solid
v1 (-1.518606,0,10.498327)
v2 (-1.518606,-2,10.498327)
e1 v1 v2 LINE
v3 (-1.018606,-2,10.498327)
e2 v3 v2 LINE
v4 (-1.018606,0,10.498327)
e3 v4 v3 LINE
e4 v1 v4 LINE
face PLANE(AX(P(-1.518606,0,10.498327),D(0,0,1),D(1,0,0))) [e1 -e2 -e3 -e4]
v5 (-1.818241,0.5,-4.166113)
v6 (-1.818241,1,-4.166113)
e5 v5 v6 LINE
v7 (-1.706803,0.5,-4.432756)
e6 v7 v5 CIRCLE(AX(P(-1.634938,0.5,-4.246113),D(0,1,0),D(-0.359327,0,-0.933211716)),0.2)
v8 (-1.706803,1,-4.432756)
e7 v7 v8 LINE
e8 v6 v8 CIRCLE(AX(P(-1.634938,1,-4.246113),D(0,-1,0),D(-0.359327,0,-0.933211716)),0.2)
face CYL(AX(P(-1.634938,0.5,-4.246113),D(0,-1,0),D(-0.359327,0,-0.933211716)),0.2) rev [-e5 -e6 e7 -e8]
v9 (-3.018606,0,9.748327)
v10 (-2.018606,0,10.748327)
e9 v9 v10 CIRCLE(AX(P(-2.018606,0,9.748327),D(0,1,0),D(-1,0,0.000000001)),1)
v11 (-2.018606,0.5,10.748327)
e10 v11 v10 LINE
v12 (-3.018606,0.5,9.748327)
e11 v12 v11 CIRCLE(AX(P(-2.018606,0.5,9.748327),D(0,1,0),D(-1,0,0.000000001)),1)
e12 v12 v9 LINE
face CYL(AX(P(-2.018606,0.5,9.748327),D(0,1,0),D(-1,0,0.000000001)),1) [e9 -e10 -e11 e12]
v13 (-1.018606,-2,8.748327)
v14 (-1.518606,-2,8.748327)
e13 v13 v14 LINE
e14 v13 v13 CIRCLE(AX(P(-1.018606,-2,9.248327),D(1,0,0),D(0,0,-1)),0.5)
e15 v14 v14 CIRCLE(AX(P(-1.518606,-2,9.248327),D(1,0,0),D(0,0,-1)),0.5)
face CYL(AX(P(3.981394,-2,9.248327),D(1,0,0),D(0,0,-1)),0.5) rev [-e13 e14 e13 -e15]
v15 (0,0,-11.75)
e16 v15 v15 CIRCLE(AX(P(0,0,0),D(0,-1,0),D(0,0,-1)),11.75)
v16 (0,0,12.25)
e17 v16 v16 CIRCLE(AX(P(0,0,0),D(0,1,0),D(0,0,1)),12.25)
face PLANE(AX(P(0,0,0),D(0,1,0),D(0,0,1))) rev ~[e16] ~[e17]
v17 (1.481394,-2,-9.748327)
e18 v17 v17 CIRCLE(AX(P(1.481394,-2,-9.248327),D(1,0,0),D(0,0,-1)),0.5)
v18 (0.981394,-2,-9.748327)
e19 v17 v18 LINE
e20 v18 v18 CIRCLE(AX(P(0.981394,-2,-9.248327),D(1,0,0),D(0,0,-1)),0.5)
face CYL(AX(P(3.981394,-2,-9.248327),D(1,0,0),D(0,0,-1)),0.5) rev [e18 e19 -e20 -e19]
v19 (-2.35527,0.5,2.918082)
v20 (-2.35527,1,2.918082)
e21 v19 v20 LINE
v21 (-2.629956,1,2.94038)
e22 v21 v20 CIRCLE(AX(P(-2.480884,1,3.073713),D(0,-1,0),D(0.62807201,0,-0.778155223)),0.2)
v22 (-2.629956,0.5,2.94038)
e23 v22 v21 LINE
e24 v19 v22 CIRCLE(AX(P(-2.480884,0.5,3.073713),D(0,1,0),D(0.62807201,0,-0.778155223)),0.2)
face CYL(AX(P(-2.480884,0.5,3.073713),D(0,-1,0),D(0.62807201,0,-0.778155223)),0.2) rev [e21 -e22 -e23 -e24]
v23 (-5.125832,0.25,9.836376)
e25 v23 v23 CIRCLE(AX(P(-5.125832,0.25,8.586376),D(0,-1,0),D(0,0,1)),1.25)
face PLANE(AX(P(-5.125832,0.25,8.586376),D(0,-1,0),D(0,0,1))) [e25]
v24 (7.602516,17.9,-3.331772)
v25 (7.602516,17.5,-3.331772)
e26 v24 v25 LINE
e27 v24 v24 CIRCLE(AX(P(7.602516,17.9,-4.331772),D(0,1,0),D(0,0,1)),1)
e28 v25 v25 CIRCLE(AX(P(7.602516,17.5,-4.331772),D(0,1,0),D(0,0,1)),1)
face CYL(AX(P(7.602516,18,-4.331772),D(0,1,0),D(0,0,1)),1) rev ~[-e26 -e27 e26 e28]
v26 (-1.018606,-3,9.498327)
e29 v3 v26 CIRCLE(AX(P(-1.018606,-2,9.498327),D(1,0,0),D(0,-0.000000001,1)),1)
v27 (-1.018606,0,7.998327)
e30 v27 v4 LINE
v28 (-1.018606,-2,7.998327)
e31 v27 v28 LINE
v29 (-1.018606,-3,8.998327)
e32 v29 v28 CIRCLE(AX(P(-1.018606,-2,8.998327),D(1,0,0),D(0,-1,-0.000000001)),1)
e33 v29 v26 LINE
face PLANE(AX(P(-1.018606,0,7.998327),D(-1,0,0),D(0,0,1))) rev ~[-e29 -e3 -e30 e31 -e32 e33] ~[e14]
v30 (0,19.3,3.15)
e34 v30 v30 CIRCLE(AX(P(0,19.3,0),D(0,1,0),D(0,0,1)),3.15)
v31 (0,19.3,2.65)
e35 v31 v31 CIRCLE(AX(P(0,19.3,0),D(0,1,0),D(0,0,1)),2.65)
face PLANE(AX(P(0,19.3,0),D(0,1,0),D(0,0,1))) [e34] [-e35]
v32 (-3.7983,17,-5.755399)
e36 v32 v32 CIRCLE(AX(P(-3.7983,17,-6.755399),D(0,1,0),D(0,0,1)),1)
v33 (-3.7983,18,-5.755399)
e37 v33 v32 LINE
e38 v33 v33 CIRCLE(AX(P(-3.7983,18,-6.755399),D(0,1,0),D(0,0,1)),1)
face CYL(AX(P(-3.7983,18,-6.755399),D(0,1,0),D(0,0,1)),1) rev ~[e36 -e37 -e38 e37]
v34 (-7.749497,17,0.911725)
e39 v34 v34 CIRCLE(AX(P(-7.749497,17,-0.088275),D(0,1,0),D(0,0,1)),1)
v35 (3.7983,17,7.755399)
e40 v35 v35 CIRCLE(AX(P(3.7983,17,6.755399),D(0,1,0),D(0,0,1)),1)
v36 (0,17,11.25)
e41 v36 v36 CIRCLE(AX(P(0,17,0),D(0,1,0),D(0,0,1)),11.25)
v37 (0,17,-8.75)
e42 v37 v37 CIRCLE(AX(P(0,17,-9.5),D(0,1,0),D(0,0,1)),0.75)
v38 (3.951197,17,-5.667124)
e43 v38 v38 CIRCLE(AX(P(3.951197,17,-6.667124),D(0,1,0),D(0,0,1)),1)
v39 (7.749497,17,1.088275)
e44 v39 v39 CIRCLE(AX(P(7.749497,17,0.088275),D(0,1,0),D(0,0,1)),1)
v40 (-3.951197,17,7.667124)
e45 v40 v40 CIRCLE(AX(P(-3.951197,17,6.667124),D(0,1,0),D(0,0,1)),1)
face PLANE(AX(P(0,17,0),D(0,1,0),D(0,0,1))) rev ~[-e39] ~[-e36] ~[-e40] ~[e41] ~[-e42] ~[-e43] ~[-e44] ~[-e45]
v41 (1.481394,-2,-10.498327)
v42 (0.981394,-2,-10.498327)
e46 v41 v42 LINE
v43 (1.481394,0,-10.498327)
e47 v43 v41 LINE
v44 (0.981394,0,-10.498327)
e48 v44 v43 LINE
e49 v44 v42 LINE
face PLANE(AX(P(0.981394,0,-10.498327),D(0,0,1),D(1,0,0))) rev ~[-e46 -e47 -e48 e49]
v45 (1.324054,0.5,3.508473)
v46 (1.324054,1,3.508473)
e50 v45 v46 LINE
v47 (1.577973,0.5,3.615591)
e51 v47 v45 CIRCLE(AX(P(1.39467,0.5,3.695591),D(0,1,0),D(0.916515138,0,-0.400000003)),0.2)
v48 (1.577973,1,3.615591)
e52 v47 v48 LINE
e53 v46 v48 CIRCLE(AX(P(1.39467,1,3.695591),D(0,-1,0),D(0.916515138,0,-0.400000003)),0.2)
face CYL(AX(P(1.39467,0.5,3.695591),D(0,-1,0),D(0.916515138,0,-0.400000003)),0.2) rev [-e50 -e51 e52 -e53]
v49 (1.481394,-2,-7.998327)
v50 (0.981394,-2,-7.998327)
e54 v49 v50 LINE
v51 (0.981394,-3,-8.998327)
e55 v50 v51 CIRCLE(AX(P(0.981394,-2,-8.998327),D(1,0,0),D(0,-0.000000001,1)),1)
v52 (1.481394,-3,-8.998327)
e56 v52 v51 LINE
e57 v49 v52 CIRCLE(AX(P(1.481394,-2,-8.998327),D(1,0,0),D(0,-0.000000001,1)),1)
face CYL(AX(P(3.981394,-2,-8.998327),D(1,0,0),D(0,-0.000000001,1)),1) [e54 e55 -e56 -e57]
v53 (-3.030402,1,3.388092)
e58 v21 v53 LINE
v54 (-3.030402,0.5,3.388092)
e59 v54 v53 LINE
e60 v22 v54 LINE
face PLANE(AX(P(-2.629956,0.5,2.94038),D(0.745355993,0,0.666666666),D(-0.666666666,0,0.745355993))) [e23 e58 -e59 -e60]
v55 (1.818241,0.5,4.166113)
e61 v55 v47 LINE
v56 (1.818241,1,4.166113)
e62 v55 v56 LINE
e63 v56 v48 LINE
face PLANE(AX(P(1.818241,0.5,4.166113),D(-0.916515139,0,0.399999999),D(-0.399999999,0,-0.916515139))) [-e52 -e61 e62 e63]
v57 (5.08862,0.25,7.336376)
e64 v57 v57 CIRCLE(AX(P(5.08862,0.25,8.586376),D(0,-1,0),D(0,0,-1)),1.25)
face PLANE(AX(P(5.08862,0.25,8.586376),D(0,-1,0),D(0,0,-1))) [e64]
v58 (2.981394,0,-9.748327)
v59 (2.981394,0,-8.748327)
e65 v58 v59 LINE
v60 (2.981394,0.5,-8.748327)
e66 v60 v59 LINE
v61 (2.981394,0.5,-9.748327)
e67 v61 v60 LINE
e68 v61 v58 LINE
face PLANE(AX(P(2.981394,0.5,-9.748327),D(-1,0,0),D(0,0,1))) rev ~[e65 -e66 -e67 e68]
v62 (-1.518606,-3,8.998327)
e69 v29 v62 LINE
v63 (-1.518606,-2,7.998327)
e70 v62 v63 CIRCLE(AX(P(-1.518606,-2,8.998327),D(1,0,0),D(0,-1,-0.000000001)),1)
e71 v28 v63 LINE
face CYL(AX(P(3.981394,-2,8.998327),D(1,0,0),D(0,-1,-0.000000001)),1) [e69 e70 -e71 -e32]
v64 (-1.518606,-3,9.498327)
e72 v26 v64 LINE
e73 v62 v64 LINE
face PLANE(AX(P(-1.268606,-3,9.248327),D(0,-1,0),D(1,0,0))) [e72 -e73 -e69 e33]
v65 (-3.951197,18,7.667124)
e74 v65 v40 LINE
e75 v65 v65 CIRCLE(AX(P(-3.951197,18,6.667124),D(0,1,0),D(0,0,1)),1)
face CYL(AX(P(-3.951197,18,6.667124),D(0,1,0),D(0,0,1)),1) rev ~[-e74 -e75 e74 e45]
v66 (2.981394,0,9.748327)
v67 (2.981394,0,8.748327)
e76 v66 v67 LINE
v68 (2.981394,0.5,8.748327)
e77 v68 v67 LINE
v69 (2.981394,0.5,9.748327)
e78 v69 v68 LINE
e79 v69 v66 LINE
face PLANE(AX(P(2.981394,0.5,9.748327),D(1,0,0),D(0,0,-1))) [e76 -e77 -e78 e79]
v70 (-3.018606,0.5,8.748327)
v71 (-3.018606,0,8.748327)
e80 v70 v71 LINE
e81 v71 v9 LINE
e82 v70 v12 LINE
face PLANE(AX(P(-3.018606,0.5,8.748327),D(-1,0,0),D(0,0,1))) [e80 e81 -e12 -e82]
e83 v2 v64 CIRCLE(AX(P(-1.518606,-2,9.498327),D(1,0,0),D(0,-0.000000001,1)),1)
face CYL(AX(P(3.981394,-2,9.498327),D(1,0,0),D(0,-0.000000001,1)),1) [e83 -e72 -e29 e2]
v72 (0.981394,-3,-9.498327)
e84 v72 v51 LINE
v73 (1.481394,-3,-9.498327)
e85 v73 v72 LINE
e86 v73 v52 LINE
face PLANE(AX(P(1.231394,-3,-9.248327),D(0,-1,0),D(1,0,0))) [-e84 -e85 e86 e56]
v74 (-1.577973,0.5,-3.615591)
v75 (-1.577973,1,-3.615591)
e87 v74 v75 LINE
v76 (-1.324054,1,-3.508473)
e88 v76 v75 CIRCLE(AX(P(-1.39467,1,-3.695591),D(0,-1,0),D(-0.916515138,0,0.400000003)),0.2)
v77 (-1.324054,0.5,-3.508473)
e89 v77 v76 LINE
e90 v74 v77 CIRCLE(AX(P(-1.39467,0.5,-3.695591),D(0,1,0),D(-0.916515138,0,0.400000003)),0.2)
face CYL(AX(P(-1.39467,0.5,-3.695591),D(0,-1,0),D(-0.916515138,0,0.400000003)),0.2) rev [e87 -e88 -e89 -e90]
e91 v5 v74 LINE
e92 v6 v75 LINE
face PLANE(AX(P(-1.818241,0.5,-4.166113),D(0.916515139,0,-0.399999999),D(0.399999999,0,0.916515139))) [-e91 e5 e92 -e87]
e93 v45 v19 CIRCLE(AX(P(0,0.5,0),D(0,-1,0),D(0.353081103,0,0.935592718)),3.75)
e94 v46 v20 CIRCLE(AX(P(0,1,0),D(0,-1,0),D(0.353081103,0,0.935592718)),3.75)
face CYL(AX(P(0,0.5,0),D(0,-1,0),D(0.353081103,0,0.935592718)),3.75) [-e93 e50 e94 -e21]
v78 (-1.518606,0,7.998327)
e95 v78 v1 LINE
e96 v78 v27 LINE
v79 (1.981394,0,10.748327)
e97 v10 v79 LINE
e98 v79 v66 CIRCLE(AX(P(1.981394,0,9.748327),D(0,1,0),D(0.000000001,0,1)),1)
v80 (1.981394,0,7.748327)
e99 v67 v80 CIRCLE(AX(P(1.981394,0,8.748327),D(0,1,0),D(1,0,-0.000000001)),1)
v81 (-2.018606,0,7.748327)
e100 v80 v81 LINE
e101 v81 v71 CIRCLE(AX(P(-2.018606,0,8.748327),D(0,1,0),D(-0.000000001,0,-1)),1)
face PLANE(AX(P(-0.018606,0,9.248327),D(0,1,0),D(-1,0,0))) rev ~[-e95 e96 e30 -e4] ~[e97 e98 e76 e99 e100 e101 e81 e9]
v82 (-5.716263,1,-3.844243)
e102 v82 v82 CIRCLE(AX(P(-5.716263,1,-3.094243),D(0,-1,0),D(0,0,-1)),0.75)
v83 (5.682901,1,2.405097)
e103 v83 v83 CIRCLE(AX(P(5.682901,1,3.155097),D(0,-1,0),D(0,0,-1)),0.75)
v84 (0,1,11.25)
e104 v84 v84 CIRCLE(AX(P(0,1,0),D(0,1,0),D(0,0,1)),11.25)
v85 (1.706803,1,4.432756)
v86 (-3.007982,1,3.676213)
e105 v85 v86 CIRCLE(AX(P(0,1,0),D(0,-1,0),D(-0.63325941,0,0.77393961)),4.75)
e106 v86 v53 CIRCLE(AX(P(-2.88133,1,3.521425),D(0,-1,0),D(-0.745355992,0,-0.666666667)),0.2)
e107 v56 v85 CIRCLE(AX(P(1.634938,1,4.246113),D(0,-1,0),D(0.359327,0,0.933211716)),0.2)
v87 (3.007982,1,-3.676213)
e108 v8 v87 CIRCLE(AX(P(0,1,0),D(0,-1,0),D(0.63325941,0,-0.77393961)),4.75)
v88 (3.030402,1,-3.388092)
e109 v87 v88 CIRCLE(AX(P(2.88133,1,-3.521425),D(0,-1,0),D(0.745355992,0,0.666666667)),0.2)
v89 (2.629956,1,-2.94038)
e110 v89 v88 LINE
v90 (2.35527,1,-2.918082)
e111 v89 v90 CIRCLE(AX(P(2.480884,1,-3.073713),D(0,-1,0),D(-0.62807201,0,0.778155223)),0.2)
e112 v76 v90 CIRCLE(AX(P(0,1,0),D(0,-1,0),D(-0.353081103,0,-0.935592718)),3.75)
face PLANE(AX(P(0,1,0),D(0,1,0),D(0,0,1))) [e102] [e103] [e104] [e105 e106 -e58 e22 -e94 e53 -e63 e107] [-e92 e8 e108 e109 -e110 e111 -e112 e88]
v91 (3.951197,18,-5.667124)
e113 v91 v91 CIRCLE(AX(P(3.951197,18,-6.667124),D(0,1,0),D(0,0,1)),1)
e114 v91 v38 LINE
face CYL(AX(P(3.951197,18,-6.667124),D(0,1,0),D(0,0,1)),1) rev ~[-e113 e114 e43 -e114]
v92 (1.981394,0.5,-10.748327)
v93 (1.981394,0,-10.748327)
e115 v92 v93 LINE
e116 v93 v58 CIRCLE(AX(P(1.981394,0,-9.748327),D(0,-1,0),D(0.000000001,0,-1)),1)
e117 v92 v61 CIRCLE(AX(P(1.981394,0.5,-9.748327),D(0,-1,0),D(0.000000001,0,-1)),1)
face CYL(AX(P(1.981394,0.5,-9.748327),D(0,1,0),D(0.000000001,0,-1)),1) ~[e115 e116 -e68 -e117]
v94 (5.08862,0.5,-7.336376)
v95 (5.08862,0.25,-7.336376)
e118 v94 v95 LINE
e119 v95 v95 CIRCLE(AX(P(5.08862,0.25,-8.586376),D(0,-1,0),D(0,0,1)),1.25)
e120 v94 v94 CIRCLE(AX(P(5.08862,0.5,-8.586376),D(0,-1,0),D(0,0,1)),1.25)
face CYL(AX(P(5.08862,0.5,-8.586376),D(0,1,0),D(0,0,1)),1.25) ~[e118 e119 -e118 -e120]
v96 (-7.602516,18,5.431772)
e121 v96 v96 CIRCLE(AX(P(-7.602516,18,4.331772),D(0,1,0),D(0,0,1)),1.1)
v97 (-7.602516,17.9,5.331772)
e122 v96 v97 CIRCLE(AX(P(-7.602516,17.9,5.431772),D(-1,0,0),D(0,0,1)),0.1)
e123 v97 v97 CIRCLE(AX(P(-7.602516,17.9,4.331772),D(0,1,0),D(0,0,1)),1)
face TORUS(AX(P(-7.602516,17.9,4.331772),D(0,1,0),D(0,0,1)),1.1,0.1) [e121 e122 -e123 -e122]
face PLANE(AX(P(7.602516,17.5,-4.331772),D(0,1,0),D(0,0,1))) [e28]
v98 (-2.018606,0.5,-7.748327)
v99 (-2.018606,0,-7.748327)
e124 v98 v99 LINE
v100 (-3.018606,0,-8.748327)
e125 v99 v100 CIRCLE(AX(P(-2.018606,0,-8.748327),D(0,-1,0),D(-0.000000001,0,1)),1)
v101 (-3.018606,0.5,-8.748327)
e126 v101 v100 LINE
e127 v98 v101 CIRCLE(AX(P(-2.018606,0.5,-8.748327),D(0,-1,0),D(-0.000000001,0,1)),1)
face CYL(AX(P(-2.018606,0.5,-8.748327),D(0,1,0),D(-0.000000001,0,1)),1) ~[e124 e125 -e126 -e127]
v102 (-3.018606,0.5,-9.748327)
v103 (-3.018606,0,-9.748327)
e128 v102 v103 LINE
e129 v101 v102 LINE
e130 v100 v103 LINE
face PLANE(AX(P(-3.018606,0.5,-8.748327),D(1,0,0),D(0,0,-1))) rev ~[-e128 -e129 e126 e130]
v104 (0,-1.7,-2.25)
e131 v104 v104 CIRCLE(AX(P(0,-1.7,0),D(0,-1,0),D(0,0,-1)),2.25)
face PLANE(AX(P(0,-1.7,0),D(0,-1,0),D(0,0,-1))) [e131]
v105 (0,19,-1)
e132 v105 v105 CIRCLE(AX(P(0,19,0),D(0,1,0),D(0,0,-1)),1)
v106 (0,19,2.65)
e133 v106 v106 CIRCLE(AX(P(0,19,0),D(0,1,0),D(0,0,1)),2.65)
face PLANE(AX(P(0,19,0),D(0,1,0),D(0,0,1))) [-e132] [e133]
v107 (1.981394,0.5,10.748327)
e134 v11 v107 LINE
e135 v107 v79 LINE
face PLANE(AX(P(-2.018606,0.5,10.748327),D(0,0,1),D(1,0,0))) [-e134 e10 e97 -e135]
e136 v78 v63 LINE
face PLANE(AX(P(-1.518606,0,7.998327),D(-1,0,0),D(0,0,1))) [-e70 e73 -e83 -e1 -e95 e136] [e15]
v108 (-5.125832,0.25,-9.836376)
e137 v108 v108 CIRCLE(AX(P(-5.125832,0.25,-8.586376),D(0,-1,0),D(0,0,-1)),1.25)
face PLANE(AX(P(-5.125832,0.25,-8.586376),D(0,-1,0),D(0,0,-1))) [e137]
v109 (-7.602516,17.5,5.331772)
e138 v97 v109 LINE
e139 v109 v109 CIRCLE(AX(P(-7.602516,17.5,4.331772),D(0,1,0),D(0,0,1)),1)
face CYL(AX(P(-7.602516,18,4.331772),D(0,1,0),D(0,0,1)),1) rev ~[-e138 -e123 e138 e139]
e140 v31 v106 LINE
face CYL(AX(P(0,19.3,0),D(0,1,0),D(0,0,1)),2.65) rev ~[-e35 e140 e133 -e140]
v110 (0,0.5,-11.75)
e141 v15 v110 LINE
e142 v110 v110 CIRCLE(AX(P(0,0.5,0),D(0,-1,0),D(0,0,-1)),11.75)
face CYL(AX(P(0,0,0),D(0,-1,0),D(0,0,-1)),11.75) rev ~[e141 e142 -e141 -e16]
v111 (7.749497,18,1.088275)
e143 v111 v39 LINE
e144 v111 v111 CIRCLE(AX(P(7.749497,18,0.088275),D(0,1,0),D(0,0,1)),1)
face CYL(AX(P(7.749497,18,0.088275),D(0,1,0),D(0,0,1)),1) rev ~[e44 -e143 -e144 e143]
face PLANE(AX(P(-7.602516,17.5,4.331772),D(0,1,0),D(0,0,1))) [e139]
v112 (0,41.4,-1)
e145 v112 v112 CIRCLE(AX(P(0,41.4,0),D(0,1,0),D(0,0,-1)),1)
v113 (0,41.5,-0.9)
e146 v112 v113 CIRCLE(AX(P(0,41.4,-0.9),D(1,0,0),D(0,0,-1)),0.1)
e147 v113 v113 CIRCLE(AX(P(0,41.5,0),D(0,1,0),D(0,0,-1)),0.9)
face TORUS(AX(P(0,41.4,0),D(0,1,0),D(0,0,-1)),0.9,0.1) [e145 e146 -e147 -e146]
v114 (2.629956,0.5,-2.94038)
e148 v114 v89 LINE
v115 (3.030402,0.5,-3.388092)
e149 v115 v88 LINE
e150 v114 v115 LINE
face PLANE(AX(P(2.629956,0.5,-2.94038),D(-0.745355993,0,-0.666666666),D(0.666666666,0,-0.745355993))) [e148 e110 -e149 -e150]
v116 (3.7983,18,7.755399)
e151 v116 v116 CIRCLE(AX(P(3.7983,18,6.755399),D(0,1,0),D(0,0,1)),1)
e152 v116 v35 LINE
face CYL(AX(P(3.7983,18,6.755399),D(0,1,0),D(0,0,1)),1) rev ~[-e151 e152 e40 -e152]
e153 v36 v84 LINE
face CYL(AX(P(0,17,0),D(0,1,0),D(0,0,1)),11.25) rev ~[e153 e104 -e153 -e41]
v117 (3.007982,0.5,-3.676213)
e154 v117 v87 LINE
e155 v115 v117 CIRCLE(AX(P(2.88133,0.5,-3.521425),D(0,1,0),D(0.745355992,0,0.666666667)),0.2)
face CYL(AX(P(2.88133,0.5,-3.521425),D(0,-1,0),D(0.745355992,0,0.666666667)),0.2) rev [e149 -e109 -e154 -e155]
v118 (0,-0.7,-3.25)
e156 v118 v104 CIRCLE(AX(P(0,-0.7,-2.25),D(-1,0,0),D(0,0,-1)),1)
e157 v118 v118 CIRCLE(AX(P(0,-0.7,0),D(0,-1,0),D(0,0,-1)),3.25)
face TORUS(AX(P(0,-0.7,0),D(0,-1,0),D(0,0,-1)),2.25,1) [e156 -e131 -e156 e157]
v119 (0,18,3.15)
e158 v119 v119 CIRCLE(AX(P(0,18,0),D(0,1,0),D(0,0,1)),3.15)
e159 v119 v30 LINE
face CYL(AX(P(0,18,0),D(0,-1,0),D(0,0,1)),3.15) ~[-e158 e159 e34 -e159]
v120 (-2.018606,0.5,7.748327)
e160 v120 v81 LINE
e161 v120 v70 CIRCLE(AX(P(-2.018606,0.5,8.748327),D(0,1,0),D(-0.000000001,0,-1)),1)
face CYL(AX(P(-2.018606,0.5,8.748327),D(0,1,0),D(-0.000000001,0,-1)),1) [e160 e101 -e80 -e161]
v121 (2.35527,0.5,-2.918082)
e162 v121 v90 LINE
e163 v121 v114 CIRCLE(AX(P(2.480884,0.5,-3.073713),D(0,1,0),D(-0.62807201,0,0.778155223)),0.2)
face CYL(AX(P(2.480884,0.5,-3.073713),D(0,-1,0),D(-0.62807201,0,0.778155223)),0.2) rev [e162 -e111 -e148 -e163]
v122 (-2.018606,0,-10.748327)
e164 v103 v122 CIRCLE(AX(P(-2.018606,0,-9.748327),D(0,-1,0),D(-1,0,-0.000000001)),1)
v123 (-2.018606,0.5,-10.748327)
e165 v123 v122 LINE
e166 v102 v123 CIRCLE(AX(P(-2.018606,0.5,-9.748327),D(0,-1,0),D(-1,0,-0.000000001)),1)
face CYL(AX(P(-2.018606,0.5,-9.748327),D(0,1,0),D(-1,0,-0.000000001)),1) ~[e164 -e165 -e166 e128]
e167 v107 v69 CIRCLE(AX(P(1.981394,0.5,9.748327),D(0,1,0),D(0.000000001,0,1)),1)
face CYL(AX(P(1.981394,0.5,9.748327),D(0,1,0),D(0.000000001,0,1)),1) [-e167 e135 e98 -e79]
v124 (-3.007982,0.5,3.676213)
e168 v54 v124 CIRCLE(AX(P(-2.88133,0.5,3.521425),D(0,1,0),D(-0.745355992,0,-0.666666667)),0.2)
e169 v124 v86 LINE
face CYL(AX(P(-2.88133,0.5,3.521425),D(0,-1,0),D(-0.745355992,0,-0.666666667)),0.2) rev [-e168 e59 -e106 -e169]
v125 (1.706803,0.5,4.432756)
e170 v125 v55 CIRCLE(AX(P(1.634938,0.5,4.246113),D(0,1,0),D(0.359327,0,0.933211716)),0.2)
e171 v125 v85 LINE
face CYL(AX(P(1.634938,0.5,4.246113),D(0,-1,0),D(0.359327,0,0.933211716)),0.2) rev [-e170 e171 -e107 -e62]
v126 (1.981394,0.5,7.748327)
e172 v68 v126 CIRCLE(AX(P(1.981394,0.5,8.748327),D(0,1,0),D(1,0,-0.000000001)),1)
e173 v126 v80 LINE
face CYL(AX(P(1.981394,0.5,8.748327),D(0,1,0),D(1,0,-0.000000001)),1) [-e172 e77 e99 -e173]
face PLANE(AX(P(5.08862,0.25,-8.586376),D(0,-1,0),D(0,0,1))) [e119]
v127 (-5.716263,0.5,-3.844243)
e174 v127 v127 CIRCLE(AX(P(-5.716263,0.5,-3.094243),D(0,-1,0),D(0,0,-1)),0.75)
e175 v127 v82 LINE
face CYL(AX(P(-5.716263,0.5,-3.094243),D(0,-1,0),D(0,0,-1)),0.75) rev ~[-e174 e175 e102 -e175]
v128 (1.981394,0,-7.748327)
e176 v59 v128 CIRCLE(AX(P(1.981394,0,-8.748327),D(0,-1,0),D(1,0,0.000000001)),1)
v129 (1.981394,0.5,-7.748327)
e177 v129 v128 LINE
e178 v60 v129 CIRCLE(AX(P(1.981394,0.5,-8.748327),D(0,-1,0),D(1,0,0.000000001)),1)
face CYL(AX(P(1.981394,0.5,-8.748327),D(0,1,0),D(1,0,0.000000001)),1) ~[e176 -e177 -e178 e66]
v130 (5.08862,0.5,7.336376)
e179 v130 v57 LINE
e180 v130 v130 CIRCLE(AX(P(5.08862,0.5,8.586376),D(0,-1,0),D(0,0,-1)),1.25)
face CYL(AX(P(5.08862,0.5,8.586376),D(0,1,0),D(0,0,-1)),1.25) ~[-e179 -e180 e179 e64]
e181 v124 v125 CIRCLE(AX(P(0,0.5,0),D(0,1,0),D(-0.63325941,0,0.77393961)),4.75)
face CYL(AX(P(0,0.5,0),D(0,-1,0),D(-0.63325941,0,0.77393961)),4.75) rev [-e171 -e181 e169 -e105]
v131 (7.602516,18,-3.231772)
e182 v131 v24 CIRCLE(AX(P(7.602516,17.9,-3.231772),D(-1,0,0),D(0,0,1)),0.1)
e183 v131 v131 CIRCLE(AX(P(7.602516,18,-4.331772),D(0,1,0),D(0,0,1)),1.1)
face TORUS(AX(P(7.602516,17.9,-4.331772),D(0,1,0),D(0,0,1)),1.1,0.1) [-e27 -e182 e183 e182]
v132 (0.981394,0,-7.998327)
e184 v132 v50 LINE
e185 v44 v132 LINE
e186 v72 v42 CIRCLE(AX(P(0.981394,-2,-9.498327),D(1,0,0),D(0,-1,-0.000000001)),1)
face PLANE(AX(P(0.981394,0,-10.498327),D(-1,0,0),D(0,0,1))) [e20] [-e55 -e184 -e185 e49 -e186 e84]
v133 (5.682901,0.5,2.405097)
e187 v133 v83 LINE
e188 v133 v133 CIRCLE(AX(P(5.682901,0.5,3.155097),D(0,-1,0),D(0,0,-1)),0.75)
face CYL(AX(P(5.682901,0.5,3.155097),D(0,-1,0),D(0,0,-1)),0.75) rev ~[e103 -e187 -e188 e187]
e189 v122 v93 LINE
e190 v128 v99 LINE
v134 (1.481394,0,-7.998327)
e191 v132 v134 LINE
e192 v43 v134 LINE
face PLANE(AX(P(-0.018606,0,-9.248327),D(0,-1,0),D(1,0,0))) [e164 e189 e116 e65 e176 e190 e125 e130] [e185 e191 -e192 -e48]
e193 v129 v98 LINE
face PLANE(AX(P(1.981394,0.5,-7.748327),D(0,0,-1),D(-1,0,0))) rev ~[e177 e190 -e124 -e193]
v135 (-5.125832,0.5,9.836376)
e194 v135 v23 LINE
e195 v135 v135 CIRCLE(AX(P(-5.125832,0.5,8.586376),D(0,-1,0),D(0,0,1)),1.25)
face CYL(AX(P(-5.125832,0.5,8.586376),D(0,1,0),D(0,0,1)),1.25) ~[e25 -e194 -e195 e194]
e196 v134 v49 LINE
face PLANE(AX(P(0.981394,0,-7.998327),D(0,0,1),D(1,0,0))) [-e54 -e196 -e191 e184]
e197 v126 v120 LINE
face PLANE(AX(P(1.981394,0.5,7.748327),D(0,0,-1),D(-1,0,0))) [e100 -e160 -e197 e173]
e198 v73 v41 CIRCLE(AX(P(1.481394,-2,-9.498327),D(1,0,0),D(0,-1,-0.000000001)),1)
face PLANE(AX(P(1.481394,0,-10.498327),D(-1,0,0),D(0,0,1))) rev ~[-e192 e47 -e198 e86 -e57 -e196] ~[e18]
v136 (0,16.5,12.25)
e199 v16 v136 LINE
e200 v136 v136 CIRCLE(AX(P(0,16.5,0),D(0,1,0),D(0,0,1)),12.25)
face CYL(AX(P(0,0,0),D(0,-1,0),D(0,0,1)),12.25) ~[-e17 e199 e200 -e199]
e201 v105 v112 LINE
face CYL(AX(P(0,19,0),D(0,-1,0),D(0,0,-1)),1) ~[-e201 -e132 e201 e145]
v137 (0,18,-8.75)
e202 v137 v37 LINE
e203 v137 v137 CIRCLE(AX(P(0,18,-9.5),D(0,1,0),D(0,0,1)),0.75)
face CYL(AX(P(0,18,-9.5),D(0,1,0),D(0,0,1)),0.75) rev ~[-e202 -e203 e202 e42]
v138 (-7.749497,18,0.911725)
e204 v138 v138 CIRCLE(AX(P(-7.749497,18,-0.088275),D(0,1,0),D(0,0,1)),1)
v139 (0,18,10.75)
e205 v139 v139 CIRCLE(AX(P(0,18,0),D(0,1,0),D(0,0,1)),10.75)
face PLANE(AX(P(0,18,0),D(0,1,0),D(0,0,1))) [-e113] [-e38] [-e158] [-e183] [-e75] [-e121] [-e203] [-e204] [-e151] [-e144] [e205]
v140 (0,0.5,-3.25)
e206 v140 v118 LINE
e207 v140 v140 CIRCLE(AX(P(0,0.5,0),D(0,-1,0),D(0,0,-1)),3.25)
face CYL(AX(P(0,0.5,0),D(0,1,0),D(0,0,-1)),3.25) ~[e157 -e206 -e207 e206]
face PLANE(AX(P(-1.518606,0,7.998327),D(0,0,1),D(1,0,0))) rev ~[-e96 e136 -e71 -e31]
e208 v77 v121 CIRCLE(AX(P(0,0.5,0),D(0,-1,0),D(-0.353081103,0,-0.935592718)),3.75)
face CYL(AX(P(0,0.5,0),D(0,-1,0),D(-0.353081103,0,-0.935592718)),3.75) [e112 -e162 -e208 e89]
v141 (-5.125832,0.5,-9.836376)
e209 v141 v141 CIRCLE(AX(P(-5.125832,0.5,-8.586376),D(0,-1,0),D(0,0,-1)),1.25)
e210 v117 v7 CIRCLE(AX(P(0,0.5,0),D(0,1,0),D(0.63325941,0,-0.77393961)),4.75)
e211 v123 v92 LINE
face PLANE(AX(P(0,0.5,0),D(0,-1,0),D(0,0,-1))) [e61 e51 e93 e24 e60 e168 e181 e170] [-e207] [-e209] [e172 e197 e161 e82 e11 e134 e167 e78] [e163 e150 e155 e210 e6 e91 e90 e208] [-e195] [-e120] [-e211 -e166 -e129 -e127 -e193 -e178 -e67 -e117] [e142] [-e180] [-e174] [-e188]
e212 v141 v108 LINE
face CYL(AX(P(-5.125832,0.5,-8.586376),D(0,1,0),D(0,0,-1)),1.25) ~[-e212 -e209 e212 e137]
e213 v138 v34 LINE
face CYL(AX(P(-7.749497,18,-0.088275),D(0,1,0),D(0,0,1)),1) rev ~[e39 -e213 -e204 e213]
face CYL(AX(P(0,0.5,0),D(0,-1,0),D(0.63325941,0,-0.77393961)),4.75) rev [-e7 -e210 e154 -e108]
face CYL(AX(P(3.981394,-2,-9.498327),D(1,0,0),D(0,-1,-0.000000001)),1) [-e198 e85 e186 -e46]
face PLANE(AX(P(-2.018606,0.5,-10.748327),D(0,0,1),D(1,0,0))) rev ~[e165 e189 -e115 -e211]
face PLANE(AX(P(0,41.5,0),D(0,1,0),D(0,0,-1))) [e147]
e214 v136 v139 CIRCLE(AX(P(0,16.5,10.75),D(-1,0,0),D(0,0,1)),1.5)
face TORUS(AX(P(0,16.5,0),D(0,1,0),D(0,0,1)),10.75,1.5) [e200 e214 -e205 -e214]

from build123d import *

# Parameters (mm, degrees)
SKETCH1_R               = 12.25
BOSS_EXTRUDE1_DEPTH     = 18
SKETCH2_R               = 3.15
BOSS_EXTRUDE2_DEPTH     = 1.3
SKETCH3_R               = 2.65
CUT_EXTRUDE1_DEPTH      = 0.3
SKETCH4_R               = 1
BOSS_EXTRUDE3_DEPTH     = 22.5
SKETCH5_R               = 11.75
CUT_EXTRUDE2_DEPTH      = 0.5
SKETCH6_R               = 3.25
BOSS_EXTRUDE4_DEPTH     = 2.2
SKETCH7_R               = 1.25
BOSS_EXTRUDE5_DEPTH     = 0.5
CUT_EXTRUDE3_START      = -0.25
SKETCH8_R               = 1.25
CUT_EXTRUDE3_DEPTH      = 0.25
SKETCH9_R               = 0.75
CUT_EXTRUDE4_DEPTH      = 5
SKETCH10_R              = 11.25
CUT_EXTRUDE5_DEPTH      = 16
SKETCH11_W              = 0.5
SKETCH11_H              = 2.5
BOSS_EXTRUDE6_DEPTH     = 3
CUT_EXTRUDE6_DEPTH      = 5
CUT_EXTRUDE6_DEPTH_BACK = 3
SKETCH12_R              = 0.5
FILLET1_R               = 1.5
FILLET2_R               = 1
SKETCH13_R              = 1
SKETCH13_R_2            = 0.75
CUT_EXTRUDE7_DEPTH      = 3
SKETCH14_R              = 1
CUT_EXTRUDE8_DEPTH      = 0.5
FILLET4_R               = 0.1
FILLET5_R               = 0.1


with BuildPart() as part:
    # Sketch1 → Boss-Extrude1 (new body)
    with BuildSketch(Plane(origin=(0, 0, 0), x_dir=(1, 0, 0), z_dir=(0, 1, 0))):
        with Locations(Location((0, 0, 0), (0, 0, 270))):
            Circle(SKETCH1_R)
    extrude(amount=BOSS_EXTRUDE1_DEPTH)

    # Sketch2 → Boss-Extrude2 (add)
    with BuildSketch(Plane(origin=(0, 18, 0), x_dir=(1, 0, 0), z_dir=(0, 1, 0))):
        with Locations(Location((0, 0, 0), (0, 0, 270))):
            Circle(SKETCH2_R)
    extrude(amount=BOSS_EXTRUDE2_DEPTH)

    # Sketch3 → Cut-Extrude1 (cut)
    with BuildSketch(Plane(origin=(0, 19.3, 0), x_dir=(1, 0, 0), z_dir=(0, 1, 0))):
        with Locations(Location((0, 0, 0), (0, 0, 270))):
            Circle(SKETCH3_R)
    extrude(amount=-CUT_EXTRUDE1_DEPTH, mode=Mode.SUBTRACT)

    # Sketch4 → Boss-Extrude3 (add)
    with BuildSketch(Plane(origin=(0, 19, 0), x_dir=(1, 0, 0), z_dir=(0, 1, 0))):
        with Locations(Location((0, 0, 0), (0, 0, 90))):
            Circle(SKETCH4_R)
    extrude(amount=BOSS_EXTRUDE3_DEPTH)

    # Sketch5 → Cut-Extrude2 (cut)
    with BuildSketch(Plane.XZ):
        with Locations(Location((0, 0, 0), (0, 0, 270))):
            Circle(SKETCH5_R)
    extrude(amount=-CUT_EXTRUDE2_DEPTH, mode=Mode.SUBTRACT)

    # Sketch6 → Boss-Extrude4 (add)
    with BuildSketch(Plane.XZ.offset(-0.5)):
        with Locations(Location((0, 0, 0), (0, 0, 270))):
            Circle(SKETCH6_R)
    extrude(amount=BOSS_EXTRUDE4_DEPTH)

    # Sketch7 → Boss-Extrude5 (add)
    with BuildSketch(Plane.XZ.offset(-0.5)):
        with Locations(Location((-5.125831592, -8.586375865, 0), (0, 0, 270))):
            Circle(SKETCH7_R)
        with Locations(Location((5.088620413, -8.586375865, 0), (0, 0, 90))):
            Circle(SKETCH7_R)
        with Locations(Location((5.088620413, 8.586375865, 0), (0, 0, 270))):
            Circle(SKETCH7_R)
        with Locations(Location((-5.125831592, 8.586375865, 0), (0, 0, 90))):
            Circle(SKETCH7_R)
        with BuildLine():
            Line((-2.01860559, -10.748327037), (1.98139441, -10.748327037))
            ThreePointArc((1.98139441, -10.748327037), (2.688501191, -10.455433818), (2.98139441, -9.748327037))
            Line((2.98139441, -9.748327037), (2.98139441, -8.748327037))
            ThreePointArc((2.98139441, -8.748327037), (2.688501191, -8.041220256), (1.98139441, -7.748327037))
            Line((1.98139441, -7.748327037), (-2.01860559, -7.748327037))
            ThreePointArc((-2.01860559, -7.748327037), (-2.725712371, -8.041220256), (-3.01860559, -8.748327037))
            Line((-3.01860559, -8.748327037), (-3.01860559, -9.748327037))
            ThreePointArc((-3.01860559, -9.748327037), (-2.725712371, -10.455433818), (-2.01860559, -10.748327037))
        make_face()
        with BuildLine():
            Line((2.98139441, 9.748327037), (2.98139441, 8.748327037))
            ThreePointArc((2.98139441, 8.748327037), (2.688501191, 8.041220256), (1.98139441, 7.748327037))
            Line((1.98139441, 7.748327037), (-2.01860559, 7.748327037))
            ThreePointArc((-2.01860559, 7.748327037), (-2.725712371, 8.041220256), (-3.01860559, 8.748327037))
            Line((-3.01860559, 8.748327037), (-3.01860559, 9.748327037))
            ThreePointArc((-3.01860559, 9.748327037), (-2.725712371, 10.455433818), (-2.01860559, 10.748327037))
            Line((-2.01860559, 10.748327037), (1.98139441, 10.748327037))
            ThreePointArc((1.98139441, 10.748327037), (2.688501191, 10.455433818), (2.98139441, 9.748327037))
        make_face()
    extrude(amount=BOSS_EXTRUDE5_DEPTH)

    # Sketch8 → Cut-Extrude3 (cut)
    with BuildSketch(Plane.XZ.offset(CUT_EXTRUDE3_START)):
        with Locations(Location((-5.125831592, -8.586375865, 0), (0, 0, 270))):
            Circle(SKETCH8_R)
        with Locations(Location((5.088620413, -8.586375865, 0), (0, 0, 90))):
            Circle(SKETCH8_R)
        with Locations(Location((5.088620413, 8.586375865, 0), (0, 0, 270))):
            Circle(SKETCH8_R)
        with Locations(Location((-5.125831592, 8.586375865, 0), (0, 0, 90))):
            Circle(SKETCH8_R)
    extrude(amount=CUT_EXTRUDE3_DEPTH, mode=Mode.SUBTRACT)

    # Sketch9 → Cut-Extrude4 (cut)
    with BuildSketch(Plane.XZ.offset(-0.5)):
        with Locations(Location((-5.716262807, -3.094242964, 0), (0, 0, 270))):
            Circle(SKETCH9_R)
        with Locations(Location((5.68290106, 3.155096757, 0), (0, 0, 270))):
            Circle(SKETCH9_R)
        with BuildLine():
            Line((-2.62995564, 2.940379794), (-3.030401514, 3.388091892))
            ThreePointArc((-3.030401514, 3.388091892), (-3.080727579, 3.536940742), (-3.007982197, 3.676213147))
            ThreePointArc((-3.007982197, 3.676213147), (-0.752566129, 4.690004714), (1.706803282, 4.432755639))
            ThreePointArc((1.706803282, 4.432755639), (1.819470443, 4.323234847), (1.818240908, 4.166113297))
            Line((1.818240908, 4.166113297), (1.577973384, 3.615591238))
            ThreePointArc((1.577973384, 3.615591238), (1.472408215, 3.51131746), (1.324054135, 3.508472694))
            ThreePointArc((1.324054135, 3.508472694), (-0.594131154, 3.702635301), (-2.355270039, 2.918082083))
            ThreePointArc((-2.355270039, 2.918082083), (-2.497066292, 2.874368833), (-2.62995564, 2.940379794))
        make_face()
        with BuildLine():
            Line((2.62995564, -2.940379794), (3.030401514, -3.388091892))
            ThreePointArc((3.030401514, -3.388091892), (3.080727579, -3.536940742), (3.007982197, -3.676213147))
            ThreePointArc((3.007982197, -3.676213147), (0.752566129, -4.690004714), (-1.706803282, -4.432755639))
            ThreePointArc((-1.706803282, -4.432755639), (-1.819470443, -4.323234847), (-1.818240908, -4.166113297))
            Line((-1.818240908, -4.166113297), (-1.577973384, -3.615591238))
            ThreePointArc((-1.577973384, -3.615591238), (-1.472408215, -3.51131746), (-1.324054135, -3.508472694))
            ThreePointArc((-1.324054135, -3.508472694), (0.594131154, -3.702635301), (2.355270039, -2.918082083))
            ThreePointArc((2.355270039, -2.918082083), (2.497066292, -2.874368833), (2.62995564, -2.940379794))
        make_face()
    extrude(amount=-CUT_EXTRUDE4_DEPTH, mode=Mode.SUBTRACT)

    # Sketch10 → Cut-Extrude5 (cut)
    with BuildSketch(Plane(origin=(0, 17, 0), x_dir=(1, 0, 0), z_dir=(0, 1, 0))):
        with Locations(Location((0, 0, 0), (0, 0, 270))):
            Circle(SKETCH10_R)
    extrude(amount=-CUT_EXTRUDE5_DEPTH, mode=Mode.SUBTRACT)

    # Sketch11 → Boss-Extrude6 (add)
    with BuildSketch(Plane.XZ):
        with Locations((1.23139441, -9.248327037)):
            Rectangle(SKETCH11_W, SKETCH11_H)
        with Locations((-1.26860559, 9.248327037)):
            Rectangle(SKETCH11_W, SKETCH11_H)
    extrude(amount=BOSS_EXTRUDE6_DEPTH)

    # Sketch12 → Cut-Extrude6 (cut, two sides: drawn at the far end of the back side and taken through both)
    with BuildSketch(Plane.ZY.offset(-0.98139441).offset(-CUT_EXTRUDE6_DEPTH_BACK)):
        with BuildLine():
            Line((-10.498327037, -3), (-9.498327037, -3))
            ThreePointArc((-9.498327037, -3), (-10.205433818, -2.707106781), (-10.498327037, -2))
            Line((-10.498327037, -2), (-10.498327037, -3))
        make_face()
        with BuildLine():
            ThreePointArc((-7.998327037, -2), (-8.291220256, -2.707106781), (-8.998327037, -3))
            Line((-8.998327037, -3), (-7.998327037, -3))
            Line((-7.998327037, -3), (-7.998327037, -2))
        make_face()
        with Locations(Location((-9.248327037, -2, 0), (0, 0, 180))):
            Circle(SKETCH12_R)
        with BuildLine():
            Line((7.998327037, -3), (8.998327037, -3))
            ThreePointArc((8.998327037, -3), (8.291220256, -2.707106781), (7.998327037, -2))
            Line((7.998327037, -2), (7.998327037, -3))
        make_face()
        with BuildLine():
            ThreePointArc((10.498327037, -2), (10.205433818, -2.707106781), (9.498327037, -3))
            Line((9.498327037, -3), (10.498327037, -3))
            Line((10.498327037, -3), (10.498327037, -2))
        make_face()
        with Locations(Location((9.248327037, -2, 0), (0, 0, 180))):
            Circle(SKETCH12_R)
    extrude(amount=CUT_EXTRUDE6_DEPTH + CUT_EXTRUDE6_DEPTH_BACK, mode=Mode.SUBTRACT)

    # Fillet1
    fillet1_edges = [part.edges().sort_by_distance(p)[0] for p in [
        (0, 18, -12.25),
    ]]
    fillet(fillet1_edges, radius=FILLET1_R)

    # Fillet2
    fillet2_edges = [part.edges().sort_by_distance(p)[0] for p in [
        (0, -1.7, 3.25),
    ]]
    fillet(fillet2_edges, radius=FILLET2_R)

    # Sketch13 → Cut-Extrude7 (cut)
    with BuildSketch(Plane(origin=(0, 18, 0), x_dir=(1, 0, 0), z_dir=(0, 1, 0))):
        with Locations(Location((3.951197057, 6.667123954, 0), (0, 0, 270))):
            Circle(SKETCH13_R)
        with Locations(Location((7.749497243, -0.08827505, 0), (0, 0, 270))):
            Circle(SKETCH13_R)
        with Locations(Location((3.798300186, -6.755399004, 0), (0, 0, 270))):
            Circle(SKETCH13_R)
        with Locations(Location((-3.951197057, -6.667123954, 0), (0, 0, 270))):
            Circle(SKETCH13_R)
        with Locations(Location((-7.749497243, 0.08827505, 0), (0, 0, 270))):
            Circle(SKETCH13_R)
        with Locations(Location((-3.798300186, 6.755399004, 0), (0, 0, 270))):
            Circle(SKETCH13_R)
        with Locations(Location((0, 9.5, 0), (0, 0, 270))):
            Circle(SKETCH13_R_2)
    extrude(amount=-CUT_EXTRUDE7_DEPTH, mode=Mode.SUBTRACT)

    # Sketch14 → Cut-Extrude8 (cut)
    with BuildSketch(Plane(origin=(0, 18, 0), x_dir=(1, 0, 0), z_dir=(0, 1, 0))):
        with Locations(Location((7.602516136, 4.331771971, 0), (0, 0, 270))):
            Circle(SKETCH14_R)
        with Locations(Location((-7.602516136, -4.331771971, 0), (0, 0, 270))):
            Circle(SKETCH14_R)
    extrude(amount=-CUT_EXTRUDE8_DEPTH, mode=Mode.SUBTRACT)

    # Fillet4
    fillet4_edges = [part.edges().sort_by_distance(p)[0] for p in [
        (7.602516136, 18, -5.331771971),
        (-7.602516136, 18, 3.331771971),
    ]]
    fillet(fillet4_edges, radius=FILLET4_R)

    # Fillet5
    fillet5_edges = [part.edges().sort_by_distance(p)[0] for p in [
        (0, 41.5, 1),
    ]]
    fillet(fillet5_edges, radius=FILLET5_R)


solid = part.part
